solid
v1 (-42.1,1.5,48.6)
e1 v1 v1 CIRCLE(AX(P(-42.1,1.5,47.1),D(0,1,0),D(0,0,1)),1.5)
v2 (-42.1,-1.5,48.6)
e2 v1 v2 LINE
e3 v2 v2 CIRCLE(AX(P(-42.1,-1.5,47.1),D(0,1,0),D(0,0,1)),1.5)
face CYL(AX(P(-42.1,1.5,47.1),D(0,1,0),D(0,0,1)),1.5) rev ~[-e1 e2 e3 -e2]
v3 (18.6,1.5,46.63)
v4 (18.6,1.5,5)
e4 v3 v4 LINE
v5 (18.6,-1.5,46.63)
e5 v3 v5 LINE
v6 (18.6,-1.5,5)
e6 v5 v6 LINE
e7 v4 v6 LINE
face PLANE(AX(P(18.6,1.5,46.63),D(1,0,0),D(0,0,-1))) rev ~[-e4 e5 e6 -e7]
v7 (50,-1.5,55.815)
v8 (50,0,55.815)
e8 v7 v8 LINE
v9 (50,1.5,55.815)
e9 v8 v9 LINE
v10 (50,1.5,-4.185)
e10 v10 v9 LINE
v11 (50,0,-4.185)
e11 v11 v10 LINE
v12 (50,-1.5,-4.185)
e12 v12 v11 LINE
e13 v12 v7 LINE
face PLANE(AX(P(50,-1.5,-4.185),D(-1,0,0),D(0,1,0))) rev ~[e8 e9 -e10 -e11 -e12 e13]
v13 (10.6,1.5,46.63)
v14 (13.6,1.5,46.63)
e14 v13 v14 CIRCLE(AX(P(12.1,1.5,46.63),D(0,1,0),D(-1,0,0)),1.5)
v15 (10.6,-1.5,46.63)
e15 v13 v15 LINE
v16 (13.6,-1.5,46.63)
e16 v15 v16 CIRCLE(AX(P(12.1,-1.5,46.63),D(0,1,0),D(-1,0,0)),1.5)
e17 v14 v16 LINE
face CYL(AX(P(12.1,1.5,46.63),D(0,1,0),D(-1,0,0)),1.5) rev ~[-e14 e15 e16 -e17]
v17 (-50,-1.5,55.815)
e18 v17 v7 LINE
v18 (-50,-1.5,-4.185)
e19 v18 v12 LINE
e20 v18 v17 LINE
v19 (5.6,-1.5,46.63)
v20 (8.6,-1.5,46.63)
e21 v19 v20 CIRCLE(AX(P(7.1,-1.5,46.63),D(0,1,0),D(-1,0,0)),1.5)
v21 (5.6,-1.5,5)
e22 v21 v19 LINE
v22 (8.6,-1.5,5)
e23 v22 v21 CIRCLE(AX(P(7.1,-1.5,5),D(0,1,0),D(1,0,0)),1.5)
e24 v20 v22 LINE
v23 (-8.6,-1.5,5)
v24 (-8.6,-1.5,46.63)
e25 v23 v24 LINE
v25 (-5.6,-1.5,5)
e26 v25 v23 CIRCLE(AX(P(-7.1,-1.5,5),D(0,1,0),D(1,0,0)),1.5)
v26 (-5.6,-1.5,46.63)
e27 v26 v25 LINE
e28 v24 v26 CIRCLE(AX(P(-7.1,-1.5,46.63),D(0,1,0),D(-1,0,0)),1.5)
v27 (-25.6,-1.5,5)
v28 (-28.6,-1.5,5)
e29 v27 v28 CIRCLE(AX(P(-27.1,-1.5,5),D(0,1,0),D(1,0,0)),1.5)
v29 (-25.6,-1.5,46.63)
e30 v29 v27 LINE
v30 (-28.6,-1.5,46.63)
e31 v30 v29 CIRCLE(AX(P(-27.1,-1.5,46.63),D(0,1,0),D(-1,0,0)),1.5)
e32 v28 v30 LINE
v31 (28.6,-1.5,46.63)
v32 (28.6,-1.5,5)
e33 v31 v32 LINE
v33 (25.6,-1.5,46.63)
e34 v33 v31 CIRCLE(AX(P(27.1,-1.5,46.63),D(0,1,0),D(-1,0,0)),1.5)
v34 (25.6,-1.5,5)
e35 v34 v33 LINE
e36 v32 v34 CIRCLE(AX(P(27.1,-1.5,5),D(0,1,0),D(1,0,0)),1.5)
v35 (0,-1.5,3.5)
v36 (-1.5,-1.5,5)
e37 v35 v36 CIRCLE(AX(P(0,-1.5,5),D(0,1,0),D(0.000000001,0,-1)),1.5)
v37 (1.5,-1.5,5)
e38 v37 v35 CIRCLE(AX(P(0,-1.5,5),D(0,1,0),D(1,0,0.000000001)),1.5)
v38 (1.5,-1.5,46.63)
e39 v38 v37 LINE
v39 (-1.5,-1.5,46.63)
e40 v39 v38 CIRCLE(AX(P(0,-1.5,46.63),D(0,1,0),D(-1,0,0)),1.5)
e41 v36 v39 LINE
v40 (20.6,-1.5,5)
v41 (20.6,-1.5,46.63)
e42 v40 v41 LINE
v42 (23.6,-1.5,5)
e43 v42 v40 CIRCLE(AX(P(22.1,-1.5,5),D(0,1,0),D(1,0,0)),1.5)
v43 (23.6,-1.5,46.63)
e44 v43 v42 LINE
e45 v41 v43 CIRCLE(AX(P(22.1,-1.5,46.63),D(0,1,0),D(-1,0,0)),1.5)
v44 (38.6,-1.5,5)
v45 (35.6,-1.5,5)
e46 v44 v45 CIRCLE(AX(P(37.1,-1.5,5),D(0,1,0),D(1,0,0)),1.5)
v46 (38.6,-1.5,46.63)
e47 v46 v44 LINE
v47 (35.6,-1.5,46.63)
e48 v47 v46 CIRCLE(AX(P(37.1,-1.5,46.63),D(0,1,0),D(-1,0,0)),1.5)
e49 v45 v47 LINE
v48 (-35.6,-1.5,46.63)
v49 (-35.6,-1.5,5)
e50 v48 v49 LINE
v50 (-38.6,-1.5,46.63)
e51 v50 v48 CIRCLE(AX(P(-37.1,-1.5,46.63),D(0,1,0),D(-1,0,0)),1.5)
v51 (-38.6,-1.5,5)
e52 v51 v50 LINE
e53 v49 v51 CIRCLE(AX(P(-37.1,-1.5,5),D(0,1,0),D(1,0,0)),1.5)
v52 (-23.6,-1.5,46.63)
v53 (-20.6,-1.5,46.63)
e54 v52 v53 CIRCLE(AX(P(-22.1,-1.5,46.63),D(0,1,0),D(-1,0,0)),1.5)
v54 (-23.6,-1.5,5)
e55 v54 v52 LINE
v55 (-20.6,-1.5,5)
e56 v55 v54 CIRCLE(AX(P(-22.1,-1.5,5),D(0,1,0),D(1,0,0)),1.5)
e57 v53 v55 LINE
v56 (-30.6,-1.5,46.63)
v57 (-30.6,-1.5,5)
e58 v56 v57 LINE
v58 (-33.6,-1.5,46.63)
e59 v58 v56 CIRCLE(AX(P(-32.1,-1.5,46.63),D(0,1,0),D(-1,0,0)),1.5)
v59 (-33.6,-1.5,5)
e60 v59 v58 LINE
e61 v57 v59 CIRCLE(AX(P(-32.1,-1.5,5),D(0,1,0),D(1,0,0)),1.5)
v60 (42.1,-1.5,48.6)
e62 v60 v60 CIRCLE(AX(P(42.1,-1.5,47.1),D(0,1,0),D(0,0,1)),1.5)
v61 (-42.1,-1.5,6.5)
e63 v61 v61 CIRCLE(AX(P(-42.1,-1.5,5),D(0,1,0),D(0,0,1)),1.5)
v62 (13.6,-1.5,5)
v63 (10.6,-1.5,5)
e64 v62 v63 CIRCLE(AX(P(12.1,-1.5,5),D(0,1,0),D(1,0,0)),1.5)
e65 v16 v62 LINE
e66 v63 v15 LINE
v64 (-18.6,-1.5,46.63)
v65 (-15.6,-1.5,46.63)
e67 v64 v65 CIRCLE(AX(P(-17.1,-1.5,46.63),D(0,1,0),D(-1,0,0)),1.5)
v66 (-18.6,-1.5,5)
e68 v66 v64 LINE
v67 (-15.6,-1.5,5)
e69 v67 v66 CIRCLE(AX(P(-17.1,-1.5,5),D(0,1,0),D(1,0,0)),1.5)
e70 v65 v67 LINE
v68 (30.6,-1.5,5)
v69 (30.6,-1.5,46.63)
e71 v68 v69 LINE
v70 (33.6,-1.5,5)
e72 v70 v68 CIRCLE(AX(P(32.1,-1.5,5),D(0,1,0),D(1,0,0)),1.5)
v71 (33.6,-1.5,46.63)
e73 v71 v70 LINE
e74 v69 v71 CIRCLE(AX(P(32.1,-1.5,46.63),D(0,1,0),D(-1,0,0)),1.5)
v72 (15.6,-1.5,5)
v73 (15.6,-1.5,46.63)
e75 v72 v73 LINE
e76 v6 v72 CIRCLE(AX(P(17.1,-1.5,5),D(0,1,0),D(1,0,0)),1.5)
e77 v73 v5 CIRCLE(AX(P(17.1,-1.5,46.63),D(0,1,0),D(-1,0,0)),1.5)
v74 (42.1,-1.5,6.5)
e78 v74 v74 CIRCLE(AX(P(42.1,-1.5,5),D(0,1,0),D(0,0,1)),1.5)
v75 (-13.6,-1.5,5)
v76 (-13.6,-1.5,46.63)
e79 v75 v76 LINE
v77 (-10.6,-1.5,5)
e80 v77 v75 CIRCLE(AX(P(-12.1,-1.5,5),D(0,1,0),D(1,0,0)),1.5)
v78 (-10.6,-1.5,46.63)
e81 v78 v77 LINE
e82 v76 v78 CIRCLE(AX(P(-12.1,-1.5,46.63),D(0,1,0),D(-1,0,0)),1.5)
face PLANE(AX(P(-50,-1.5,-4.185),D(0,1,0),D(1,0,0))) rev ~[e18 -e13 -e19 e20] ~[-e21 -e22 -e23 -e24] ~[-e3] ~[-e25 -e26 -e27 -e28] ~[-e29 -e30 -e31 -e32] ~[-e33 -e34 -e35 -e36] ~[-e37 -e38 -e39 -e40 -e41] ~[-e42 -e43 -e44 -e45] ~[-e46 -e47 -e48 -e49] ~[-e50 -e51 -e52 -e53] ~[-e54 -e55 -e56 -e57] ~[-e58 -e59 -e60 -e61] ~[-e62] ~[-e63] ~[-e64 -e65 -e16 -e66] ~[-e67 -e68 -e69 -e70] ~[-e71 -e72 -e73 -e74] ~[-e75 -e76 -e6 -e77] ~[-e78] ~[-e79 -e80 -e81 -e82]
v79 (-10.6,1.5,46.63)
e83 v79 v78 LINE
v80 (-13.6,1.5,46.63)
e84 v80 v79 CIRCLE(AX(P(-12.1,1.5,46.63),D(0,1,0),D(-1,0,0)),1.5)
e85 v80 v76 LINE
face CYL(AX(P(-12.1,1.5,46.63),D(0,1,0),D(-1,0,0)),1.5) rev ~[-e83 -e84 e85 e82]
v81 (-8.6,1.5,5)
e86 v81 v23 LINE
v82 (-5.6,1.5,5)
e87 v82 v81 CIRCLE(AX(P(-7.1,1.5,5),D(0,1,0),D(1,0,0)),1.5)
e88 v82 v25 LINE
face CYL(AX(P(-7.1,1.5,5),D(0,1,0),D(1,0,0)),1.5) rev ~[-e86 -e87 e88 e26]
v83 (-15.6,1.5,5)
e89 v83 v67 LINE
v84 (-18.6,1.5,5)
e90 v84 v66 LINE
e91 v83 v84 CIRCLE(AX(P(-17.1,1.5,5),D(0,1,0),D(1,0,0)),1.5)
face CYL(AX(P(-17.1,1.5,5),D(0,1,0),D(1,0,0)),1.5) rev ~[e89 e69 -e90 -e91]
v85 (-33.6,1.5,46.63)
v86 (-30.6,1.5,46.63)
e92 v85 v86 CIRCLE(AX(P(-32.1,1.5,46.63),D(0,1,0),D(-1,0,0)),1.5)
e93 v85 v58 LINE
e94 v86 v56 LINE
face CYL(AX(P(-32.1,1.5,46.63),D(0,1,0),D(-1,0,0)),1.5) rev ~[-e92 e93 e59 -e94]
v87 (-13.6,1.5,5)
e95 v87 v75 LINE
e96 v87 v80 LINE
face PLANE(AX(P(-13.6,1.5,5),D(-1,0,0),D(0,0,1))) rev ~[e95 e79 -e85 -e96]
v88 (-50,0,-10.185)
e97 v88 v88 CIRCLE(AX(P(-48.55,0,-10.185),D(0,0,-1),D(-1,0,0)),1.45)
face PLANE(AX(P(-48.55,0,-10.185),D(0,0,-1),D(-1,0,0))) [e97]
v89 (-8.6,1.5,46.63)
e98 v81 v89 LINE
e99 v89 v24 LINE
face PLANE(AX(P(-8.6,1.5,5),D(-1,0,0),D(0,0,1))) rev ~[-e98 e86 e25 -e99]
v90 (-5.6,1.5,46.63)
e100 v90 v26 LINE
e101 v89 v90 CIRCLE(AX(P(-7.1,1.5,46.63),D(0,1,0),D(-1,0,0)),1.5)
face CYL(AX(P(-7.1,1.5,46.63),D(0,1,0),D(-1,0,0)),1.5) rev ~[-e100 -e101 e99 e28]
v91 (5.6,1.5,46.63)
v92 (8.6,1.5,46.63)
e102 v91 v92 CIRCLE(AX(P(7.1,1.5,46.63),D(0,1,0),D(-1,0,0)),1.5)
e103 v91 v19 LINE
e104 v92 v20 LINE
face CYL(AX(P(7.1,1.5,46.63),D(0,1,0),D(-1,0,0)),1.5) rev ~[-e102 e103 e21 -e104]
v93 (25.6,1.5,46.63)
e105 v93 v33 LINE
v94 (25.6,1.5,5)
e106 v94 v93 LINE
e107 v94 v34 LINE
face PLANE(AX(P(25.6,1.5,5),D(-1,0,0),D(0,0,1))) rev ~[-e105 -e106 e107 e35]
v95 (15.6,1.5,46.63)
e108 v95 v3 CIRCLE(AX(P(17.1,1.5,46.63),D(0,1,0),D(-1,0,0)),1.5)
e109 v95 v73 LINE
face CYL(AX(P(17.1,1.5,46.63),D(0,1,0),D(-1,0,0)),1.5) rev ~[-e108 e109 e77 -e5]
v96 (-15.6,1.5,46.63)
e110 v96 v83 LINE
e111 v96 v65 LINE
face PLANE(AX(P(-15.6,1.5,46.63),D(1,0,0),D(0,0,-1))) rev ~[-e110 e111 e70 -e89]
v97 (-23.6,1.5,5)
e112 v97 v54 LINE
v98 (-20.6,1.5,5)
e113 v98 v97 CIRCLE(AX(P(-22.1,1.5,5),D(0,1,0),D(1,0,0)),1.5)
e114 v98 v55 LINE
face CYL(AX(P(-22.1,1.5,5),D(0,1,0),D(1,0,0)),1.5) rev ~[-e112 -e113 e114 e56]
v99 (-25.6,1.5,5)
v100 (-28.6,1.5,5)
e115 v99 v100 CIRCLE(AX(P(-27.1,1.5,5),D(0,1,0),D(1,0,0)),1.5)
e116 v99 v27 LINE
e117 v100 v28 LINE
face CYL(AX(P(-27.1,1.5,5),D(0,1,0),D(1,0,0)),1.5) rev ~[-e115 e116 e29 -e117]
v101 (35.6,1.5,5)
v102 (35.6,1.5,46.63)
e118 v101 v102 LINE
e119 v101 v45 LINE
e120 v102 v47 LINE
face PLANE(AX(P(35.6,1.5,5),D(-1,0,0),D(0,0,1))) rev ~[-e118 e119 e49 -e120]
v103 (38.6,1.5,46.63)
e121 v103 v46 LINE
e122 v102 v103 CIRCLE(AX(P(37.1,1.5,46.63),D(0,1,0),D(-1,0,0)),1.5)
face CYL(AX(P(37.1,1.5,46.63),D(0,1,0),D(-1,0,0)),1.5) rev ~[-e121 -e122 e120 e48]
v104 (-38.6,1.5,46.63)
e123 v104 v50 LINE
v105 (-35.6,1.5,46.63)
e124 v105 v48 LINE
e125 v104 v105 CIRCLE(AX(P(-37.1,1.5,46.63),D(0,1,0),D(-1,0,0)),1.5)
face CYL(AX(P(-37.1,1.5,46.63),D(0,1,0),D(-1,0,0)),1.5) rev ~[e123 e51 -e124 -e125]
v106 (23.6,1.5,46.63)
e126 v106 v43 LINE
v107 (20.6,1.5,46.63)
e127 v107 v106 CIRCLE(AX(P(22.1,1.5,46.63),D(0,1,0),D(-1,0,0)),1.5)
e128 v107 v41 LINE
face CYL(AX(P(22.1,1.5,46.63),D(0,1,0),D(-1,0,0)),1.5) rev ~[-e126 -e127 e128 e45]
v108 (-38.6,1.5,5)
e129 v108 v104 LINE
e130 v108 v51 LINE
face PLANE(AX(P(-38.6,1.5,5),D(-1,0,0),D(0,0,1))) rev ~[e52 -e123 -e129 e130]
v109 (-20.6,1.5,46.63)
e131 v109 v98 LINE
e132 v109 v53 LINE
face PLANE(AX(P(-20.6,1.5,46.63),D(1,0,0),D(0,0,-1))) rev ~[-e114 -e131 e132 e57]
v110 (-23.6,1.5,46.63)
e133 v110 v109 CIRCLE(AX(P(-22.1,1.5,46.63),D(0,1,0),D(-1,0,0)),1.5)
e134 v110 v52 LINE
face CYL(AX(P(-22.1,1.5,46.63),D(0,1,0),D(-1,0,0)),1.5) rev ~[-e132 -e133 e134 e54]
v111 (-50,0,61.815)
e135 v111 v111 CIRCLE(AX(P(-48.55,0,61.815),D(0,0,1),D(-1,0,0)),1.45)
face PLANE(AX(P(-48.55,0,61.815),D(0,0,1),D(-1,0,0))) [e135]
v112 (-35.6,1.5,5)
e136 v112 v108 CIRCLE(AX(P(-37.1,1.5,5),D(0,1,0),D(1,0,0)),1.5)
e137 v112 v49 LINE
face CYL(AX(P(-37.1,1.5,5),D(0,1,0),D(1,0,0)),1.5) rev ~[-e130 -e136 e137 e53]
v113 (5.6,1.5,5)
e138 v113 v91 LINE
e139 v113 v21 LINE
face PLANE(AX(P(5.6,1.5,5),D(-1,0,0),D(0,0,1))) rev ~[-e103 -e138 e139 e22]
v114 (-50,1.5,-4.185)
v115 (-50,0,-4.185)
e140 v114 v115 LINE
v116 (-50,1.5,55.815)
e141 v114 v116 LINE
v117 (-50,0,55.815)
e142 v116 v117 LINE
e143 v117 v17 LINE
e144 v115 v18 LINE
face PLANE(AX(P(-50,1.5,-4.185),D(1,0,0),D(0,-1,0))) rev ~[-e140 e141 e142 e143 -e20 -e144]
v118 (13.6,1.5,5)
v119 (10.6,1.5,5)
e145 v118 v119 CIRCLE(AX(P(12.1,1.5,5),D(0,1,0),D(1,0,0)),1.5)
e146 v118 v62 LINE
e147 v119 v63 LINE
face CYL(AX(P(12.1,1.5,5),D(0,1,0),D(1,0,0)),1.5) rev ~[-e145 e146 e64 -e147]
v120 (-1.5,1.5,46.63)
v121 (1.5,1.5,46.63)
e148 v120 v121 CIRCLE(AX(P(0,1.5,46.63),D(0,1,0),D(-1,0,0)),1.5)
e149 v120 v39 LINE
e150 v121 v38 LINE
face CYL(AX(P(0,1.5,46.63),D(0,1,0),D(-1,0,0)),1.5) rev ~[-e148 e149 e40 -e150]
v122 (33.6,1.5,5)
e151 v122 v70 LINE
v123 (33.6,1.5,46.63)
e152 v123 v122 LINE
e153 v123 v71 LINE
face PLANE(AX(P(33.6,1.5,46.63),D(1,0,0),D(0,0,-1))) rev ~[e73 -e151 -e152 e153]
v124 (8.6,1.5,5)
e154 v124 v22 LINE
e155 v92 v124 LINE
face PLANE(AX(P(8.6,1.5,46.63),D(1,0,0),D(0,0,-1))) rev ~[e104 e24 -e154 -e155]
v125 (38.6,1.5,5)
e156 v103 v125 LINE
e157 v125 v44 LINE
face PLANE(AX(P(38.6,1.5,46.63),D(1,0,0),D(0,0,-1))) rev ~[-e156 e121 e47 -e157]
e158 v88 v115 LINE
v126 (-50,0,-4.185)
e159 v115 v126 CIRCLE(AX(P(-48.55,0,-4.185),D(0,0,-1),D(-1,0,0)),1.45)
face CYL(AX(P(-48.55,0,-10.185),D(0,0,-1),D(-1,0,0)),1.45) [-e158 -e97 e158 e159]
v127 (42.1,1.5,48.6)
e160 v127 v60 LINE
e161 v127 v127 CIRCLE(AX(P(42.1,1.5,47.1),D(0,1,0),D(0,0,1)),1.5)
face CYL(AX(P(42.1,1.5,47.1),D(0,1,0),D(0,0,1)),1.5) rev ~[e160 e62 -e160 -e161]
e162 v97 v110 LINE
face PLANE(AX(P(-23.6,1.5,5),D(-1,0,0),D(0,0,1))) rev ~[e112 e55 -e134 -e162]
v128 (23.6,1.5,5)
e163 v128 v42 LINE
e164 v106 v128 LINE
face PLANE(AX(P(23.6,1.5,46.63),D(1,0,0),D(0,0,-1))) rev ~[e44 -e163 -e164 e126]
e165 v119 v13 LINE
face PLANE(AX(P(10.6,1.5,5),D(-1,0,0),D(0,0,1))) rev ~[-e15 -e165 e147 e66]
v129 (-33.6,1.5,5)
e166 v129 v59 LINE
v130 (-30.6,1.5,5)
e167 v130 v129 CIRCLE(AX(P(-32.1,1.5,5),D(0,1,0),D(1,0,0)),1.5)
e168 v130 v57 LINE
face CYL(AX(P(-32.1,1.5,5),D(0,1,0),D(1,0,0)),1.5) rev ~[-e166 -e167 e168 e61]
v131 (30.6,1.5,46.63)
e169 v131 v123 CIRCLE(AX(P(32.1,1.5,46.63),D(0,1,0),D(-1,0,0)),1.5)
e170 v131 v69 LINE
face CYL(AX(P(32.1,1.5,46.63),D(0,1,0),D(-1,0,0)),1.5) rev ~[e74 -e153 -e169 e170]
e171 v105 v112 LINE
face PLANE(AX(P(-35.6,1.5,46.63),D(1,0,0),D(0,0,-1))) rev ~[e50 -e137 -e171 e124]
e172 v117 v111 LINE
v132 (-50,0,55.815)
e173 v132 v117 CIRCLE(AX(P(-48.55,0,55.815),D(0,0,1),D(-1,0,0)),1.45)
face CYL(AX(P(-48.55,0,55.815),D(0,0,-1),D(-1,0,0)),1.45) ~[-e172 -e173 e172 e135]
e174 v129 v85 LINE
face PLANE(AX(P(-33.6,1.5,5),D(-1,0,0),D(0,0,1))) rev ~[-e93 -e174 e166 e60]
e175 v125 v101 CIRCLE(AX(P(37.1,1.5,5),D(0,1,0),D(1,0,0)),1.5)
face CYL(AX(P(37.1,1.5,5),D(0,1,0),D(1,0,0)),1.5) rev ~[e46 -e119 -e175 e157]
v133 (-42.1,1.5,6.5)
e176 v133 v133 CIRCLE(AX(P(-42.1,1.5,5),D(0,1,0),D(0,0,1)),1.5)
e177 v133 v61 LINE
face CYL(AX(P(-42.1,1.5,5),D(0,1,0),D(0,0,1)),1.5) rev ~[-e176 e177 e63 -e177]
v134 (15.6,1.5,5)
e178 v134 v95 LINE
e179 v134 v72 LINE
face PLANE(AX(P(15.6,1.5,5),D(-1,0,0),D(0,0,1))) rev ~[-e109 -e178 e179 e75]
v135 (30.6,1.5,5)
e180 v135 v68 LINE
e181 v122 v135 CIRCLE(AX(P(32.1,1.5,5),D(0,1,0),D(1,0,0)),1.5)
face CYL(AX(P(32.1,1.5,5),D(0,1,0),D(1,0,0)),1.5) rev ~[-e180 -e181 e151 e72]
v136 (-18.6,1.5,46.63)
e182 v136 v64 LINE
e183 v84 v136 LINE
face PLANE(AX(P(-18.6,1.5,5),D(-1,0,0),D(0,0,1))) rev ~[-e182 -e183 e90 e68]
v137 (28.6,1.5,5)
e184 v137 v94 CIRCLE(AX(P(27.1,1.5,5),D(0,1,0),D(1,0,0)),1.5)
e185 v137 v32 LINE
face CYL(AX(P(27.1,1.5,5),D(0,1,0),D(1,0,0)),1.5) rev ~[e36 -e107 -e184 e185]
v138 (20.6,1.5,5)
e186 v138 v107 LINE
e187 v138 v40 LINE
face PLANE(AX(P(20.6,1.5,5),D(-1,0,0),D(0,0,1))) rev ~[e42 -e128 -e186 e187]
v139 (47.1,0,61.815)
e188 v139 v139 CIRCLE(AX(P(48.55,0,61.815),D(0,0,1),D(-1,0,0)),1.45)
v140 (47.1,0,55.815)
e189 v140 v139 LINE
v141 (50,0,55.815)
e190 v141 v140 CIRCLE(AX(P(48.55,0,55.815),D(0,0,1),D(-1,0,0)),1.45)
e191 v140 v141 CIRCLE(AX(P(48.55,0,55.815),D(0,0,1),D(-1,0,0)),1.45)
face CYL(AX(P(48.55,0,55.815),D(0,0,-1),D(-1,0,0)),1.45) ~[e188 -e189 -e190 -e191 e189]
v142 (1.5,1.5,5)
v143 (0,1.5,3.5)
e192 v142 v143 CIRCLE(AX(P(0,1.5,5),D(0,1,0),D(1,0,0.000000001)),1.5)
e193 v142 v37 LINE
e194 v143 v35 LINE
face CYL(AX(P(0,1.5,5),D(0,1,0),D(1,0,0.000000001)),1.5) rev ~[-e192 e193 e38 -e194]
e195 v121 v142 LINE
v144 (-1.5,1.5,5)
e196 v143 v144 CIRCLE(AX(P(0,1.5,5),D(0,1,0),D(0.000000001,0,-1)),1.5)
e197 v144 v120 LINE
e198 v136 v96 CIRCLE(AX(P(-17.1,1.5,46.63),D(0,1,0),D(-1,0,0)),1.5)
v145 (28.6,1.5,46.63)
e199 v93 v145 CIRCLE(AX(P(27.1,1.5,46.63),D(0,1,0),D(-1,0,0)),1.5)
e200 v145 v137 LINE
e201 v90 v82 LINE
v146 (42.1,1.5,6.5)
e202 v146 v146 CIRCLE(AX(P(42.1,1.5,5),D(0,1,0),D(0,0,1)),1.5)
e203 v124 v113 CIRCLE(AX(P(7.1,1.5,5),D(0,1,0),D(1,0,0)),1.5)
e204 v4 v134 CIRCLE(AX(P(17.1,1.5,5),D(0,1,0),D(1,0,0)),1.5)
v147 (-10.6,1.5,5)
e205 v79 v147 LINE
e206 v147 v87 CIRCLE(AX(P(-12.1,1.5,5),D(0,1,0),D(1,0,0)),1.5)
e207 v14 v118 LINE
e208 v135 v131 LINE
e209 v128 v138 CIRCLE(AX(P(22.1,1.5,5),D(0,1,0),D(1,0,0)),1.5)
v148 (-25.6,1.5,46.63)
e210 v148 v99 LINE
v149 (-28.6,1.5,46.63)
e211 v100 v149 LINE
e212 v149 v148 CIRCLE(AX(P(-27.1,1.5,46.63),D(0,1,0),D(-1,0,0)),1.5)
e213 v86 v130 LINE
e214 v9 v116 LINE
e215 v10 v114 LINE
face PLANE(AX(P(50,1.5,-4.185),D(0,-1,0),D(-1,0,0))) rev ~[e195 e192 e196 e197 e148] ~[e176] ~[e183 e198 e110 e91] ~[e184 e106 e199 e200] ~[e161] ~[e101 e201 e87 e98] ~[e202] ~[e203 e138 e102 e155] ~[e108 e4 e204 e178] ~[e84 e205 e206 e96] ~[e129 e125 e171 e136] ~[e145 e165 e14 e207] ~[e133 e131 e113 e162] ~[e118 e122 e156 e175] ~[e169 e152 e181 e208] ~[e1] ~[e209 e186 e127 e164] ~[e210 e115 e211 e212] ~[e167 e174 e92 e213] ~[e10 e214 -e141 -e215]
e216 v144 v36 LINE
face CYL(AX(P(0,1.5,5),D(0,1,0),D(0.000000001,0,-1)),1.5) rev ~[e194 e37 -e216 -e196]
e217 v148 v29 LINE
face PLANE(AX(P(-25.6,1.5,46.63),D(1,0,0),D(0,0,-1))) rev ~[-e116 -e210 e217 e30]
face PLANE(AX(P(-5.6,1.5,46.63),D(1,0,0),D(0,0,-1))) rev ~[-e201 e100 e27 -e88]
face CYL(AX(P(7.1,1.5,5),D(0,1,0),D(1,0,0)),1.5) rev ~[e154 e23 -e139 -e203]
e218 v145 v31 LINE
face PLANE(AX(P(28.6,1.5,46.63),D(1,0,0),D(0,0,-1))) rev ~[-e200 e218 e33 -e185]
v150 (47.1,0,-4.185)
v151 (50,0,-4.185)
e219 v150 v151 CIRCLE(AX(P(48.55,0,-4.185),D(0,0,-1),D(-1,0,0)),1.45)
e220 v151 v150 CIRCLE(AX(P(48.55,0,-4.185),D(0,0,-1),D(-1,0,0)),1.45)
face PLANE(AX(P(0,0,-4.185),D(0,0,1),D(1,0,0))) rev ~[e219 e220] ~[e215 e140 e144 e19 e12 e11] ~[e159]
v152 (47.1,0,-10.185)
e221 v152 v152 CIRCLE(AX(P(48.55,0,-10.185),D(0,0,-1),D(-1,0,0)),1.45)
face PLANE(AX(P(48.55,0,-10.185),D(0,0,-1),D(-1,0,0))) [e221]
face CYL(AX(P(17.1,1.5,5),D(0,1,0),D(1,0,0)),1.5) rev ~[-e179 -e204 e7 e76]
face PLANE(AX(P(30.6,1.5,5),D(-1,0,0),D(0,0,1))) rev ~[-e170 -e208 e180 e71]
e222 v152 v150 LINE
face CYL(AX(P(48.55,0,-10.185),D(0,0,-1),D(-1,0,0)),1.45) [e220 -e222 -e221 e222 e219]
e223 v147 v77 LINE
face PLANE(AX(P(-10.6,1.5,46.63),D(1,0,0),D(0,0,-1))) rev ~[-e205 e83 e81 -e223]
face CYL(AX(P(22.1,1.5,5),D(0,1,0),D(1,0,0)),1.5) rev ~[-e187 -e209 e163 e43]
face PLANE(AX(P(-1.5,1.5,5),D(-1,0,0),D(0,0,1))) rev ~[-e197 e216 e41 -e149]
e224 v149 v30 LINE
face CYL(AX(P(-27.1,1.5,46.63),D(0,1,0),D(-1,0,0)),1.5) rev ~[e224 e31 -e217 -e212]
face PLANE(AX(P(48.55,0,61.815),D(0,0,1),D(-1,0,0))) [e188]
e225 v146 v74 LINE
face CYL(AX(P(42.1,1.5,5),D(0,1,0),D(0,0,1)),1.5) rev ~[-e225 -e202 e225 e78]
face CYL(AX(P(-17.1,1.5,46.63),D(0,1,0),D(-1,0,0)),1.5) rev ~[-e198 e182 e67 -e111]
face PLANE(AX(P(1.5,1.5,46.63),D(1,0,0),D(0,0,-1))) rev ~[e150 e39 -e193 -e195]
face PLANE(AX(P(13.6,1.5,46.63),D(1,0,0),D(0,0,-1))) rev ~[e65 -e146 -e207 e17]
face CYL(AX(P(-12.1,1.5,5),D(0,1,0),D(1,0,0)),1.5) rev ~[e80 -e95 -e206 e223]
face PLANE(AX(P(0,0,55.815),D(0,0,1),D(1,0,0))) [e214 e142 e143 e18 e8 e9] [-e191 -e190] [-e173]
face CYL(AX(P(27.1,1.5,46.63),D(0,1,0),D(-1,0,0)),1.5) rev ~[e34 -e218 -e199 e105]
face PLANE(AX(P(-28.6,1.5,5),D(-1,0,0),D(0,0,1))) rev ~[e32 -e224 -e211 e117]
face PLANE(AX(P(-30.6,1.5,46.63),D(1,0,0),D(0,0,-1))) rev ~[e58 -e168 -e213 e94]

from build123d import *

# Parameters (mm, degrees)
EXTRUDE_1_DEPTH      = 55.815
EXTRUDE_1_DEPTH_BACK = 4.185
SKETCH_8_R           = 1.5
CUT_EXTRUDE_1_DEPTH  = 3
SKETCH_11_R          = 1.45
EXTRUDE_4_DEPTH      = 6
EXTRUDE_START        = 6
SKETCH_12_R          = 1.45
EXTRUDE_5_DEPTH      = 6


with BuildPart() as part:
    # 草图1 → 凸台-拉伸1 (new, two sides: drawn at the far end of the back side and taken through both)
    with BuildSketch(Plane.XY.offset(-EXTRUDE_1_DEPTH_BACK)):
        Polygon((50, 0), (50, 1.5), (30, 1.5), (0, 1.5), (-50, 1.5), (-50, -1.5), (30, -1.5), (50, -1.5), align=None)
    extrude(amount=EXTRUDE_1_DEPTH + EXTRUDE_1_DEPTH_BACK)

    # 草图8 → 切除-拉伸1 (cut)
    with BuildSketch(Plane(origin=(0, 1.5, 0), x_dir=(1, 0, 0), z_dir=(0, 1, 0))):
        with BuildLine():
            Line((1.5, -46.63), (1.5, -5))
            ThreePointArc((1.5, -5), (1.060660172, -3.939339828), (0, -3.5))
            ThreePointArc((0, -3.5), (-1.060660172, -3.939339828), (-1.5, -5))
            Line((-1.5, -5), (-1.5, -46.63))
            ThreePointArc((-1.5, -46.63), (0, -48.13), (1.5, -46.63))
        make_face()
        with BuildLine():
            ThreePointArc((-35.6, -5), (-37.1, -3.5), (-38.6, -5))
            Line((-38.6, -5), (-38.6, -46.63))
            ThreePointArc((-38.6, -46.63), (-37.1, -48.13), (-35.6, -46.63))
            Line((-35.6, -46.63), (-35.6, -5))
        make_face()
        with BuildLine():
            ThreePointArc((-30.6, -5), (-32.1, -3.5), (-33.6, -5))
            Line((-33.6, -5), (-33.6, -46.63))
            ThreePointArc((-33.6, -46.63), (-32.1, -48.13), (-30.6, -46.63))
            Line((-30.6, -46.63), (-30.6, -5))
        make_face()
        with BuildLine():
            ThreePointArc((-25.6, -5), (-27.1, -3.5), (-28.6, -5))
            Line((-28.6, -5), (-28.6, -46.63))
            ThreePointArc((-28.6, -46.63), (-27.1, -48.13), (-25.6, -46.63))
            Line((-25.6, -46.63), (-25.6, -5))
        make_face()
        with BuildLine():
            ThreePointArc((-20.6, -5), (-22.1, -3.5), (-23.6, -5))
            Line((-23.6, -5), (-23.6, -46.63))
            ThreePointArc((-23.6, -46.63), (-22.1, -48.13), (-20.6, -46.63))
            Line((-20.6, -46.63), (-20.6, -5))
        make_face()
        with BuildLine():
            ThreePointArc((-15.6, -5), (-17.1, -3.5), (-18.6, -5))
            Line((-18.6, -5), (-18.6, -46.63))
            ThreePointArc((-18.6, -46.63), (-17.1, -48.13), (-15.6, -46.63))
            Line((-15.6, -46.63), (-15.6, -5))
        make_face()
        with BuildLine():
            ThreePointArc((-10.6, -5), (-12.1, -3.5), (-13.6, -5))
            Line((-13.6, -5), (-13.6, -46.63))
            ThreePointArc((-13.6, -46.63), (-12.1, -48.13), (-10.6, -46.63))
            Line((-10.6, -46.63), (-10.6, -5))
        make_face()
        with BuildLine():
            ThreePointArc((-5.6, -5), (-7.1, -3.5), (-8.6, -5))
            Line((-8.6, -5), (-8.6, -46.63))
            ThreePointArc((-8.6, -46.63), (-7.1, -48.13), (-5.6, -46.63))
            Line((-5.6, -46.63), (-5.6, -5))
        make_face()
        with BuildLine():
            ThreePointArc((8.6, -5), (7.1, -3.5), (5.6, -5))
            Line((5.6, -5), (5.6, -46.63))
            ThreePointArc((5.6, -46.63), (7.1, -48.13), (8.6, -46.63))
            Line((8.6, -46.63), (8.6, -5))
        make_face()
        with BuildLine():
            ThreePointArc((13.6, -5), (12.1, -3.5), (10.6, -5))
            Line((10.6, -5), (10.6, -46.63))
            ThreePointArc((10.6, -46.63), (12.1, -48.13), (13.6, -46.63))
            Line((13.6, -46.63), (13.6, -5))
        make_face()
        with BuildLine():
            ThreePointArc((18.6, -5), (17.1, -3.5), (15.6, -5))
            Line((15.6, -5), (15.6, -46.63))
            ThreePointArc((15.6, -46.63), (17.1, -48.13), (18.6, -46.63))
            Line((18.6, -46.63), (18.6, -5))
        make_face()
        with BuildLine():
            ThreePointArc((23.6, -5), (22.1, -3.5), (20.6, -5))
            Line((20.6, -5), (20.6, -46.63))
            ThreePointArc((20.6, -46.63), (22.1, -48.13), (23.6, -46.63))
            Line((23.6, -46.63), (23.6, -5))
        make_face()
        with BuildLine():
            ThreePointArc((28.6, -5), (27.1, -3.5), (25.6, -5))
            Line((25.6, -5), (25.6, -46.63))
            ThreePointArc((25.6, -46.63), (27.1, -48.13), (28.6, -46.63))
            Line((28.6, -46.63), (28.6, -5))
        make_face()
        with BuildLine():
            ThreePointArc((33.6, -5), (32.1, -3.5), (30.6, -5))
            Line((30.6, -5), (30.6, -46.63))
            ThreePointArc((30.6, -46.63), (32.1, -48.13), (33.6, -46.63))
            Line((33.6, -46.63), (33.6, -5))
        make_face()
        with BuildLine():
            ThreePointArc((38.6, -5), (37.1, -3.5), (35.6, -5))
            Line((35.6, -5), (35.6, -46.63))
            ThreePointArc((35.6, -46.63), (37.1, -48.13), (38.6, -46.63))
            Line((38.6, -46.63), (38.6, -5))
        make_face()
        with Locations(Location((-42.1, -5, 0), (0, 0, 270))):
            Circle(SKETCH_8_R)
        with Locations(Location((-42.1, -47.1, 0), (0, 0, 270))):
            Circle(SKETCH_8_R)
        with Locations(Location((42.1, -47.1, 0), (0, 0, 270))):
            Circle(SKETCH_8_R)
        with Locations(Location((42.1, -5, 0), (0, 0, 270))):
            Circle(SKETCH_8_R)
    extrude(amount=-CUT_EXTRUDE_1_DEPTH, mode=Mode.SUBTRACT)

    # 草图11 → 凸台-拉伸4 (add)
    with BuildSketch(Plane.XY.offset(55.815)):
        with Locations(Location((-48.55, 0, 0), (0, 0, 180))):
            Circle(SKETCH_11_R)
        with Locations(Location((48.55, 0, 0), (0, 0, 180))):
            Circle(SKETCH_11_R)
    extrude(amount=EXTRUDE_4_DEPTH)

    # 草图12 → 凸台-拉伸5 (add)
    with BuildSketch(Plane(origin=(0, 0, -4.185), x_dir=(-1, 0, 0), z_dir=(0, 0, -1)).offset(EXTRUDE_START)):
        with Locations((-48.55, 0)):
            Circle(SKETCH_12_R)
        with Locations((48.55, 0)):
            Circle(SKETCH_12_R)
    extrude(amount=-EXTRUDE_5_DEPTH)


solid = part.part
